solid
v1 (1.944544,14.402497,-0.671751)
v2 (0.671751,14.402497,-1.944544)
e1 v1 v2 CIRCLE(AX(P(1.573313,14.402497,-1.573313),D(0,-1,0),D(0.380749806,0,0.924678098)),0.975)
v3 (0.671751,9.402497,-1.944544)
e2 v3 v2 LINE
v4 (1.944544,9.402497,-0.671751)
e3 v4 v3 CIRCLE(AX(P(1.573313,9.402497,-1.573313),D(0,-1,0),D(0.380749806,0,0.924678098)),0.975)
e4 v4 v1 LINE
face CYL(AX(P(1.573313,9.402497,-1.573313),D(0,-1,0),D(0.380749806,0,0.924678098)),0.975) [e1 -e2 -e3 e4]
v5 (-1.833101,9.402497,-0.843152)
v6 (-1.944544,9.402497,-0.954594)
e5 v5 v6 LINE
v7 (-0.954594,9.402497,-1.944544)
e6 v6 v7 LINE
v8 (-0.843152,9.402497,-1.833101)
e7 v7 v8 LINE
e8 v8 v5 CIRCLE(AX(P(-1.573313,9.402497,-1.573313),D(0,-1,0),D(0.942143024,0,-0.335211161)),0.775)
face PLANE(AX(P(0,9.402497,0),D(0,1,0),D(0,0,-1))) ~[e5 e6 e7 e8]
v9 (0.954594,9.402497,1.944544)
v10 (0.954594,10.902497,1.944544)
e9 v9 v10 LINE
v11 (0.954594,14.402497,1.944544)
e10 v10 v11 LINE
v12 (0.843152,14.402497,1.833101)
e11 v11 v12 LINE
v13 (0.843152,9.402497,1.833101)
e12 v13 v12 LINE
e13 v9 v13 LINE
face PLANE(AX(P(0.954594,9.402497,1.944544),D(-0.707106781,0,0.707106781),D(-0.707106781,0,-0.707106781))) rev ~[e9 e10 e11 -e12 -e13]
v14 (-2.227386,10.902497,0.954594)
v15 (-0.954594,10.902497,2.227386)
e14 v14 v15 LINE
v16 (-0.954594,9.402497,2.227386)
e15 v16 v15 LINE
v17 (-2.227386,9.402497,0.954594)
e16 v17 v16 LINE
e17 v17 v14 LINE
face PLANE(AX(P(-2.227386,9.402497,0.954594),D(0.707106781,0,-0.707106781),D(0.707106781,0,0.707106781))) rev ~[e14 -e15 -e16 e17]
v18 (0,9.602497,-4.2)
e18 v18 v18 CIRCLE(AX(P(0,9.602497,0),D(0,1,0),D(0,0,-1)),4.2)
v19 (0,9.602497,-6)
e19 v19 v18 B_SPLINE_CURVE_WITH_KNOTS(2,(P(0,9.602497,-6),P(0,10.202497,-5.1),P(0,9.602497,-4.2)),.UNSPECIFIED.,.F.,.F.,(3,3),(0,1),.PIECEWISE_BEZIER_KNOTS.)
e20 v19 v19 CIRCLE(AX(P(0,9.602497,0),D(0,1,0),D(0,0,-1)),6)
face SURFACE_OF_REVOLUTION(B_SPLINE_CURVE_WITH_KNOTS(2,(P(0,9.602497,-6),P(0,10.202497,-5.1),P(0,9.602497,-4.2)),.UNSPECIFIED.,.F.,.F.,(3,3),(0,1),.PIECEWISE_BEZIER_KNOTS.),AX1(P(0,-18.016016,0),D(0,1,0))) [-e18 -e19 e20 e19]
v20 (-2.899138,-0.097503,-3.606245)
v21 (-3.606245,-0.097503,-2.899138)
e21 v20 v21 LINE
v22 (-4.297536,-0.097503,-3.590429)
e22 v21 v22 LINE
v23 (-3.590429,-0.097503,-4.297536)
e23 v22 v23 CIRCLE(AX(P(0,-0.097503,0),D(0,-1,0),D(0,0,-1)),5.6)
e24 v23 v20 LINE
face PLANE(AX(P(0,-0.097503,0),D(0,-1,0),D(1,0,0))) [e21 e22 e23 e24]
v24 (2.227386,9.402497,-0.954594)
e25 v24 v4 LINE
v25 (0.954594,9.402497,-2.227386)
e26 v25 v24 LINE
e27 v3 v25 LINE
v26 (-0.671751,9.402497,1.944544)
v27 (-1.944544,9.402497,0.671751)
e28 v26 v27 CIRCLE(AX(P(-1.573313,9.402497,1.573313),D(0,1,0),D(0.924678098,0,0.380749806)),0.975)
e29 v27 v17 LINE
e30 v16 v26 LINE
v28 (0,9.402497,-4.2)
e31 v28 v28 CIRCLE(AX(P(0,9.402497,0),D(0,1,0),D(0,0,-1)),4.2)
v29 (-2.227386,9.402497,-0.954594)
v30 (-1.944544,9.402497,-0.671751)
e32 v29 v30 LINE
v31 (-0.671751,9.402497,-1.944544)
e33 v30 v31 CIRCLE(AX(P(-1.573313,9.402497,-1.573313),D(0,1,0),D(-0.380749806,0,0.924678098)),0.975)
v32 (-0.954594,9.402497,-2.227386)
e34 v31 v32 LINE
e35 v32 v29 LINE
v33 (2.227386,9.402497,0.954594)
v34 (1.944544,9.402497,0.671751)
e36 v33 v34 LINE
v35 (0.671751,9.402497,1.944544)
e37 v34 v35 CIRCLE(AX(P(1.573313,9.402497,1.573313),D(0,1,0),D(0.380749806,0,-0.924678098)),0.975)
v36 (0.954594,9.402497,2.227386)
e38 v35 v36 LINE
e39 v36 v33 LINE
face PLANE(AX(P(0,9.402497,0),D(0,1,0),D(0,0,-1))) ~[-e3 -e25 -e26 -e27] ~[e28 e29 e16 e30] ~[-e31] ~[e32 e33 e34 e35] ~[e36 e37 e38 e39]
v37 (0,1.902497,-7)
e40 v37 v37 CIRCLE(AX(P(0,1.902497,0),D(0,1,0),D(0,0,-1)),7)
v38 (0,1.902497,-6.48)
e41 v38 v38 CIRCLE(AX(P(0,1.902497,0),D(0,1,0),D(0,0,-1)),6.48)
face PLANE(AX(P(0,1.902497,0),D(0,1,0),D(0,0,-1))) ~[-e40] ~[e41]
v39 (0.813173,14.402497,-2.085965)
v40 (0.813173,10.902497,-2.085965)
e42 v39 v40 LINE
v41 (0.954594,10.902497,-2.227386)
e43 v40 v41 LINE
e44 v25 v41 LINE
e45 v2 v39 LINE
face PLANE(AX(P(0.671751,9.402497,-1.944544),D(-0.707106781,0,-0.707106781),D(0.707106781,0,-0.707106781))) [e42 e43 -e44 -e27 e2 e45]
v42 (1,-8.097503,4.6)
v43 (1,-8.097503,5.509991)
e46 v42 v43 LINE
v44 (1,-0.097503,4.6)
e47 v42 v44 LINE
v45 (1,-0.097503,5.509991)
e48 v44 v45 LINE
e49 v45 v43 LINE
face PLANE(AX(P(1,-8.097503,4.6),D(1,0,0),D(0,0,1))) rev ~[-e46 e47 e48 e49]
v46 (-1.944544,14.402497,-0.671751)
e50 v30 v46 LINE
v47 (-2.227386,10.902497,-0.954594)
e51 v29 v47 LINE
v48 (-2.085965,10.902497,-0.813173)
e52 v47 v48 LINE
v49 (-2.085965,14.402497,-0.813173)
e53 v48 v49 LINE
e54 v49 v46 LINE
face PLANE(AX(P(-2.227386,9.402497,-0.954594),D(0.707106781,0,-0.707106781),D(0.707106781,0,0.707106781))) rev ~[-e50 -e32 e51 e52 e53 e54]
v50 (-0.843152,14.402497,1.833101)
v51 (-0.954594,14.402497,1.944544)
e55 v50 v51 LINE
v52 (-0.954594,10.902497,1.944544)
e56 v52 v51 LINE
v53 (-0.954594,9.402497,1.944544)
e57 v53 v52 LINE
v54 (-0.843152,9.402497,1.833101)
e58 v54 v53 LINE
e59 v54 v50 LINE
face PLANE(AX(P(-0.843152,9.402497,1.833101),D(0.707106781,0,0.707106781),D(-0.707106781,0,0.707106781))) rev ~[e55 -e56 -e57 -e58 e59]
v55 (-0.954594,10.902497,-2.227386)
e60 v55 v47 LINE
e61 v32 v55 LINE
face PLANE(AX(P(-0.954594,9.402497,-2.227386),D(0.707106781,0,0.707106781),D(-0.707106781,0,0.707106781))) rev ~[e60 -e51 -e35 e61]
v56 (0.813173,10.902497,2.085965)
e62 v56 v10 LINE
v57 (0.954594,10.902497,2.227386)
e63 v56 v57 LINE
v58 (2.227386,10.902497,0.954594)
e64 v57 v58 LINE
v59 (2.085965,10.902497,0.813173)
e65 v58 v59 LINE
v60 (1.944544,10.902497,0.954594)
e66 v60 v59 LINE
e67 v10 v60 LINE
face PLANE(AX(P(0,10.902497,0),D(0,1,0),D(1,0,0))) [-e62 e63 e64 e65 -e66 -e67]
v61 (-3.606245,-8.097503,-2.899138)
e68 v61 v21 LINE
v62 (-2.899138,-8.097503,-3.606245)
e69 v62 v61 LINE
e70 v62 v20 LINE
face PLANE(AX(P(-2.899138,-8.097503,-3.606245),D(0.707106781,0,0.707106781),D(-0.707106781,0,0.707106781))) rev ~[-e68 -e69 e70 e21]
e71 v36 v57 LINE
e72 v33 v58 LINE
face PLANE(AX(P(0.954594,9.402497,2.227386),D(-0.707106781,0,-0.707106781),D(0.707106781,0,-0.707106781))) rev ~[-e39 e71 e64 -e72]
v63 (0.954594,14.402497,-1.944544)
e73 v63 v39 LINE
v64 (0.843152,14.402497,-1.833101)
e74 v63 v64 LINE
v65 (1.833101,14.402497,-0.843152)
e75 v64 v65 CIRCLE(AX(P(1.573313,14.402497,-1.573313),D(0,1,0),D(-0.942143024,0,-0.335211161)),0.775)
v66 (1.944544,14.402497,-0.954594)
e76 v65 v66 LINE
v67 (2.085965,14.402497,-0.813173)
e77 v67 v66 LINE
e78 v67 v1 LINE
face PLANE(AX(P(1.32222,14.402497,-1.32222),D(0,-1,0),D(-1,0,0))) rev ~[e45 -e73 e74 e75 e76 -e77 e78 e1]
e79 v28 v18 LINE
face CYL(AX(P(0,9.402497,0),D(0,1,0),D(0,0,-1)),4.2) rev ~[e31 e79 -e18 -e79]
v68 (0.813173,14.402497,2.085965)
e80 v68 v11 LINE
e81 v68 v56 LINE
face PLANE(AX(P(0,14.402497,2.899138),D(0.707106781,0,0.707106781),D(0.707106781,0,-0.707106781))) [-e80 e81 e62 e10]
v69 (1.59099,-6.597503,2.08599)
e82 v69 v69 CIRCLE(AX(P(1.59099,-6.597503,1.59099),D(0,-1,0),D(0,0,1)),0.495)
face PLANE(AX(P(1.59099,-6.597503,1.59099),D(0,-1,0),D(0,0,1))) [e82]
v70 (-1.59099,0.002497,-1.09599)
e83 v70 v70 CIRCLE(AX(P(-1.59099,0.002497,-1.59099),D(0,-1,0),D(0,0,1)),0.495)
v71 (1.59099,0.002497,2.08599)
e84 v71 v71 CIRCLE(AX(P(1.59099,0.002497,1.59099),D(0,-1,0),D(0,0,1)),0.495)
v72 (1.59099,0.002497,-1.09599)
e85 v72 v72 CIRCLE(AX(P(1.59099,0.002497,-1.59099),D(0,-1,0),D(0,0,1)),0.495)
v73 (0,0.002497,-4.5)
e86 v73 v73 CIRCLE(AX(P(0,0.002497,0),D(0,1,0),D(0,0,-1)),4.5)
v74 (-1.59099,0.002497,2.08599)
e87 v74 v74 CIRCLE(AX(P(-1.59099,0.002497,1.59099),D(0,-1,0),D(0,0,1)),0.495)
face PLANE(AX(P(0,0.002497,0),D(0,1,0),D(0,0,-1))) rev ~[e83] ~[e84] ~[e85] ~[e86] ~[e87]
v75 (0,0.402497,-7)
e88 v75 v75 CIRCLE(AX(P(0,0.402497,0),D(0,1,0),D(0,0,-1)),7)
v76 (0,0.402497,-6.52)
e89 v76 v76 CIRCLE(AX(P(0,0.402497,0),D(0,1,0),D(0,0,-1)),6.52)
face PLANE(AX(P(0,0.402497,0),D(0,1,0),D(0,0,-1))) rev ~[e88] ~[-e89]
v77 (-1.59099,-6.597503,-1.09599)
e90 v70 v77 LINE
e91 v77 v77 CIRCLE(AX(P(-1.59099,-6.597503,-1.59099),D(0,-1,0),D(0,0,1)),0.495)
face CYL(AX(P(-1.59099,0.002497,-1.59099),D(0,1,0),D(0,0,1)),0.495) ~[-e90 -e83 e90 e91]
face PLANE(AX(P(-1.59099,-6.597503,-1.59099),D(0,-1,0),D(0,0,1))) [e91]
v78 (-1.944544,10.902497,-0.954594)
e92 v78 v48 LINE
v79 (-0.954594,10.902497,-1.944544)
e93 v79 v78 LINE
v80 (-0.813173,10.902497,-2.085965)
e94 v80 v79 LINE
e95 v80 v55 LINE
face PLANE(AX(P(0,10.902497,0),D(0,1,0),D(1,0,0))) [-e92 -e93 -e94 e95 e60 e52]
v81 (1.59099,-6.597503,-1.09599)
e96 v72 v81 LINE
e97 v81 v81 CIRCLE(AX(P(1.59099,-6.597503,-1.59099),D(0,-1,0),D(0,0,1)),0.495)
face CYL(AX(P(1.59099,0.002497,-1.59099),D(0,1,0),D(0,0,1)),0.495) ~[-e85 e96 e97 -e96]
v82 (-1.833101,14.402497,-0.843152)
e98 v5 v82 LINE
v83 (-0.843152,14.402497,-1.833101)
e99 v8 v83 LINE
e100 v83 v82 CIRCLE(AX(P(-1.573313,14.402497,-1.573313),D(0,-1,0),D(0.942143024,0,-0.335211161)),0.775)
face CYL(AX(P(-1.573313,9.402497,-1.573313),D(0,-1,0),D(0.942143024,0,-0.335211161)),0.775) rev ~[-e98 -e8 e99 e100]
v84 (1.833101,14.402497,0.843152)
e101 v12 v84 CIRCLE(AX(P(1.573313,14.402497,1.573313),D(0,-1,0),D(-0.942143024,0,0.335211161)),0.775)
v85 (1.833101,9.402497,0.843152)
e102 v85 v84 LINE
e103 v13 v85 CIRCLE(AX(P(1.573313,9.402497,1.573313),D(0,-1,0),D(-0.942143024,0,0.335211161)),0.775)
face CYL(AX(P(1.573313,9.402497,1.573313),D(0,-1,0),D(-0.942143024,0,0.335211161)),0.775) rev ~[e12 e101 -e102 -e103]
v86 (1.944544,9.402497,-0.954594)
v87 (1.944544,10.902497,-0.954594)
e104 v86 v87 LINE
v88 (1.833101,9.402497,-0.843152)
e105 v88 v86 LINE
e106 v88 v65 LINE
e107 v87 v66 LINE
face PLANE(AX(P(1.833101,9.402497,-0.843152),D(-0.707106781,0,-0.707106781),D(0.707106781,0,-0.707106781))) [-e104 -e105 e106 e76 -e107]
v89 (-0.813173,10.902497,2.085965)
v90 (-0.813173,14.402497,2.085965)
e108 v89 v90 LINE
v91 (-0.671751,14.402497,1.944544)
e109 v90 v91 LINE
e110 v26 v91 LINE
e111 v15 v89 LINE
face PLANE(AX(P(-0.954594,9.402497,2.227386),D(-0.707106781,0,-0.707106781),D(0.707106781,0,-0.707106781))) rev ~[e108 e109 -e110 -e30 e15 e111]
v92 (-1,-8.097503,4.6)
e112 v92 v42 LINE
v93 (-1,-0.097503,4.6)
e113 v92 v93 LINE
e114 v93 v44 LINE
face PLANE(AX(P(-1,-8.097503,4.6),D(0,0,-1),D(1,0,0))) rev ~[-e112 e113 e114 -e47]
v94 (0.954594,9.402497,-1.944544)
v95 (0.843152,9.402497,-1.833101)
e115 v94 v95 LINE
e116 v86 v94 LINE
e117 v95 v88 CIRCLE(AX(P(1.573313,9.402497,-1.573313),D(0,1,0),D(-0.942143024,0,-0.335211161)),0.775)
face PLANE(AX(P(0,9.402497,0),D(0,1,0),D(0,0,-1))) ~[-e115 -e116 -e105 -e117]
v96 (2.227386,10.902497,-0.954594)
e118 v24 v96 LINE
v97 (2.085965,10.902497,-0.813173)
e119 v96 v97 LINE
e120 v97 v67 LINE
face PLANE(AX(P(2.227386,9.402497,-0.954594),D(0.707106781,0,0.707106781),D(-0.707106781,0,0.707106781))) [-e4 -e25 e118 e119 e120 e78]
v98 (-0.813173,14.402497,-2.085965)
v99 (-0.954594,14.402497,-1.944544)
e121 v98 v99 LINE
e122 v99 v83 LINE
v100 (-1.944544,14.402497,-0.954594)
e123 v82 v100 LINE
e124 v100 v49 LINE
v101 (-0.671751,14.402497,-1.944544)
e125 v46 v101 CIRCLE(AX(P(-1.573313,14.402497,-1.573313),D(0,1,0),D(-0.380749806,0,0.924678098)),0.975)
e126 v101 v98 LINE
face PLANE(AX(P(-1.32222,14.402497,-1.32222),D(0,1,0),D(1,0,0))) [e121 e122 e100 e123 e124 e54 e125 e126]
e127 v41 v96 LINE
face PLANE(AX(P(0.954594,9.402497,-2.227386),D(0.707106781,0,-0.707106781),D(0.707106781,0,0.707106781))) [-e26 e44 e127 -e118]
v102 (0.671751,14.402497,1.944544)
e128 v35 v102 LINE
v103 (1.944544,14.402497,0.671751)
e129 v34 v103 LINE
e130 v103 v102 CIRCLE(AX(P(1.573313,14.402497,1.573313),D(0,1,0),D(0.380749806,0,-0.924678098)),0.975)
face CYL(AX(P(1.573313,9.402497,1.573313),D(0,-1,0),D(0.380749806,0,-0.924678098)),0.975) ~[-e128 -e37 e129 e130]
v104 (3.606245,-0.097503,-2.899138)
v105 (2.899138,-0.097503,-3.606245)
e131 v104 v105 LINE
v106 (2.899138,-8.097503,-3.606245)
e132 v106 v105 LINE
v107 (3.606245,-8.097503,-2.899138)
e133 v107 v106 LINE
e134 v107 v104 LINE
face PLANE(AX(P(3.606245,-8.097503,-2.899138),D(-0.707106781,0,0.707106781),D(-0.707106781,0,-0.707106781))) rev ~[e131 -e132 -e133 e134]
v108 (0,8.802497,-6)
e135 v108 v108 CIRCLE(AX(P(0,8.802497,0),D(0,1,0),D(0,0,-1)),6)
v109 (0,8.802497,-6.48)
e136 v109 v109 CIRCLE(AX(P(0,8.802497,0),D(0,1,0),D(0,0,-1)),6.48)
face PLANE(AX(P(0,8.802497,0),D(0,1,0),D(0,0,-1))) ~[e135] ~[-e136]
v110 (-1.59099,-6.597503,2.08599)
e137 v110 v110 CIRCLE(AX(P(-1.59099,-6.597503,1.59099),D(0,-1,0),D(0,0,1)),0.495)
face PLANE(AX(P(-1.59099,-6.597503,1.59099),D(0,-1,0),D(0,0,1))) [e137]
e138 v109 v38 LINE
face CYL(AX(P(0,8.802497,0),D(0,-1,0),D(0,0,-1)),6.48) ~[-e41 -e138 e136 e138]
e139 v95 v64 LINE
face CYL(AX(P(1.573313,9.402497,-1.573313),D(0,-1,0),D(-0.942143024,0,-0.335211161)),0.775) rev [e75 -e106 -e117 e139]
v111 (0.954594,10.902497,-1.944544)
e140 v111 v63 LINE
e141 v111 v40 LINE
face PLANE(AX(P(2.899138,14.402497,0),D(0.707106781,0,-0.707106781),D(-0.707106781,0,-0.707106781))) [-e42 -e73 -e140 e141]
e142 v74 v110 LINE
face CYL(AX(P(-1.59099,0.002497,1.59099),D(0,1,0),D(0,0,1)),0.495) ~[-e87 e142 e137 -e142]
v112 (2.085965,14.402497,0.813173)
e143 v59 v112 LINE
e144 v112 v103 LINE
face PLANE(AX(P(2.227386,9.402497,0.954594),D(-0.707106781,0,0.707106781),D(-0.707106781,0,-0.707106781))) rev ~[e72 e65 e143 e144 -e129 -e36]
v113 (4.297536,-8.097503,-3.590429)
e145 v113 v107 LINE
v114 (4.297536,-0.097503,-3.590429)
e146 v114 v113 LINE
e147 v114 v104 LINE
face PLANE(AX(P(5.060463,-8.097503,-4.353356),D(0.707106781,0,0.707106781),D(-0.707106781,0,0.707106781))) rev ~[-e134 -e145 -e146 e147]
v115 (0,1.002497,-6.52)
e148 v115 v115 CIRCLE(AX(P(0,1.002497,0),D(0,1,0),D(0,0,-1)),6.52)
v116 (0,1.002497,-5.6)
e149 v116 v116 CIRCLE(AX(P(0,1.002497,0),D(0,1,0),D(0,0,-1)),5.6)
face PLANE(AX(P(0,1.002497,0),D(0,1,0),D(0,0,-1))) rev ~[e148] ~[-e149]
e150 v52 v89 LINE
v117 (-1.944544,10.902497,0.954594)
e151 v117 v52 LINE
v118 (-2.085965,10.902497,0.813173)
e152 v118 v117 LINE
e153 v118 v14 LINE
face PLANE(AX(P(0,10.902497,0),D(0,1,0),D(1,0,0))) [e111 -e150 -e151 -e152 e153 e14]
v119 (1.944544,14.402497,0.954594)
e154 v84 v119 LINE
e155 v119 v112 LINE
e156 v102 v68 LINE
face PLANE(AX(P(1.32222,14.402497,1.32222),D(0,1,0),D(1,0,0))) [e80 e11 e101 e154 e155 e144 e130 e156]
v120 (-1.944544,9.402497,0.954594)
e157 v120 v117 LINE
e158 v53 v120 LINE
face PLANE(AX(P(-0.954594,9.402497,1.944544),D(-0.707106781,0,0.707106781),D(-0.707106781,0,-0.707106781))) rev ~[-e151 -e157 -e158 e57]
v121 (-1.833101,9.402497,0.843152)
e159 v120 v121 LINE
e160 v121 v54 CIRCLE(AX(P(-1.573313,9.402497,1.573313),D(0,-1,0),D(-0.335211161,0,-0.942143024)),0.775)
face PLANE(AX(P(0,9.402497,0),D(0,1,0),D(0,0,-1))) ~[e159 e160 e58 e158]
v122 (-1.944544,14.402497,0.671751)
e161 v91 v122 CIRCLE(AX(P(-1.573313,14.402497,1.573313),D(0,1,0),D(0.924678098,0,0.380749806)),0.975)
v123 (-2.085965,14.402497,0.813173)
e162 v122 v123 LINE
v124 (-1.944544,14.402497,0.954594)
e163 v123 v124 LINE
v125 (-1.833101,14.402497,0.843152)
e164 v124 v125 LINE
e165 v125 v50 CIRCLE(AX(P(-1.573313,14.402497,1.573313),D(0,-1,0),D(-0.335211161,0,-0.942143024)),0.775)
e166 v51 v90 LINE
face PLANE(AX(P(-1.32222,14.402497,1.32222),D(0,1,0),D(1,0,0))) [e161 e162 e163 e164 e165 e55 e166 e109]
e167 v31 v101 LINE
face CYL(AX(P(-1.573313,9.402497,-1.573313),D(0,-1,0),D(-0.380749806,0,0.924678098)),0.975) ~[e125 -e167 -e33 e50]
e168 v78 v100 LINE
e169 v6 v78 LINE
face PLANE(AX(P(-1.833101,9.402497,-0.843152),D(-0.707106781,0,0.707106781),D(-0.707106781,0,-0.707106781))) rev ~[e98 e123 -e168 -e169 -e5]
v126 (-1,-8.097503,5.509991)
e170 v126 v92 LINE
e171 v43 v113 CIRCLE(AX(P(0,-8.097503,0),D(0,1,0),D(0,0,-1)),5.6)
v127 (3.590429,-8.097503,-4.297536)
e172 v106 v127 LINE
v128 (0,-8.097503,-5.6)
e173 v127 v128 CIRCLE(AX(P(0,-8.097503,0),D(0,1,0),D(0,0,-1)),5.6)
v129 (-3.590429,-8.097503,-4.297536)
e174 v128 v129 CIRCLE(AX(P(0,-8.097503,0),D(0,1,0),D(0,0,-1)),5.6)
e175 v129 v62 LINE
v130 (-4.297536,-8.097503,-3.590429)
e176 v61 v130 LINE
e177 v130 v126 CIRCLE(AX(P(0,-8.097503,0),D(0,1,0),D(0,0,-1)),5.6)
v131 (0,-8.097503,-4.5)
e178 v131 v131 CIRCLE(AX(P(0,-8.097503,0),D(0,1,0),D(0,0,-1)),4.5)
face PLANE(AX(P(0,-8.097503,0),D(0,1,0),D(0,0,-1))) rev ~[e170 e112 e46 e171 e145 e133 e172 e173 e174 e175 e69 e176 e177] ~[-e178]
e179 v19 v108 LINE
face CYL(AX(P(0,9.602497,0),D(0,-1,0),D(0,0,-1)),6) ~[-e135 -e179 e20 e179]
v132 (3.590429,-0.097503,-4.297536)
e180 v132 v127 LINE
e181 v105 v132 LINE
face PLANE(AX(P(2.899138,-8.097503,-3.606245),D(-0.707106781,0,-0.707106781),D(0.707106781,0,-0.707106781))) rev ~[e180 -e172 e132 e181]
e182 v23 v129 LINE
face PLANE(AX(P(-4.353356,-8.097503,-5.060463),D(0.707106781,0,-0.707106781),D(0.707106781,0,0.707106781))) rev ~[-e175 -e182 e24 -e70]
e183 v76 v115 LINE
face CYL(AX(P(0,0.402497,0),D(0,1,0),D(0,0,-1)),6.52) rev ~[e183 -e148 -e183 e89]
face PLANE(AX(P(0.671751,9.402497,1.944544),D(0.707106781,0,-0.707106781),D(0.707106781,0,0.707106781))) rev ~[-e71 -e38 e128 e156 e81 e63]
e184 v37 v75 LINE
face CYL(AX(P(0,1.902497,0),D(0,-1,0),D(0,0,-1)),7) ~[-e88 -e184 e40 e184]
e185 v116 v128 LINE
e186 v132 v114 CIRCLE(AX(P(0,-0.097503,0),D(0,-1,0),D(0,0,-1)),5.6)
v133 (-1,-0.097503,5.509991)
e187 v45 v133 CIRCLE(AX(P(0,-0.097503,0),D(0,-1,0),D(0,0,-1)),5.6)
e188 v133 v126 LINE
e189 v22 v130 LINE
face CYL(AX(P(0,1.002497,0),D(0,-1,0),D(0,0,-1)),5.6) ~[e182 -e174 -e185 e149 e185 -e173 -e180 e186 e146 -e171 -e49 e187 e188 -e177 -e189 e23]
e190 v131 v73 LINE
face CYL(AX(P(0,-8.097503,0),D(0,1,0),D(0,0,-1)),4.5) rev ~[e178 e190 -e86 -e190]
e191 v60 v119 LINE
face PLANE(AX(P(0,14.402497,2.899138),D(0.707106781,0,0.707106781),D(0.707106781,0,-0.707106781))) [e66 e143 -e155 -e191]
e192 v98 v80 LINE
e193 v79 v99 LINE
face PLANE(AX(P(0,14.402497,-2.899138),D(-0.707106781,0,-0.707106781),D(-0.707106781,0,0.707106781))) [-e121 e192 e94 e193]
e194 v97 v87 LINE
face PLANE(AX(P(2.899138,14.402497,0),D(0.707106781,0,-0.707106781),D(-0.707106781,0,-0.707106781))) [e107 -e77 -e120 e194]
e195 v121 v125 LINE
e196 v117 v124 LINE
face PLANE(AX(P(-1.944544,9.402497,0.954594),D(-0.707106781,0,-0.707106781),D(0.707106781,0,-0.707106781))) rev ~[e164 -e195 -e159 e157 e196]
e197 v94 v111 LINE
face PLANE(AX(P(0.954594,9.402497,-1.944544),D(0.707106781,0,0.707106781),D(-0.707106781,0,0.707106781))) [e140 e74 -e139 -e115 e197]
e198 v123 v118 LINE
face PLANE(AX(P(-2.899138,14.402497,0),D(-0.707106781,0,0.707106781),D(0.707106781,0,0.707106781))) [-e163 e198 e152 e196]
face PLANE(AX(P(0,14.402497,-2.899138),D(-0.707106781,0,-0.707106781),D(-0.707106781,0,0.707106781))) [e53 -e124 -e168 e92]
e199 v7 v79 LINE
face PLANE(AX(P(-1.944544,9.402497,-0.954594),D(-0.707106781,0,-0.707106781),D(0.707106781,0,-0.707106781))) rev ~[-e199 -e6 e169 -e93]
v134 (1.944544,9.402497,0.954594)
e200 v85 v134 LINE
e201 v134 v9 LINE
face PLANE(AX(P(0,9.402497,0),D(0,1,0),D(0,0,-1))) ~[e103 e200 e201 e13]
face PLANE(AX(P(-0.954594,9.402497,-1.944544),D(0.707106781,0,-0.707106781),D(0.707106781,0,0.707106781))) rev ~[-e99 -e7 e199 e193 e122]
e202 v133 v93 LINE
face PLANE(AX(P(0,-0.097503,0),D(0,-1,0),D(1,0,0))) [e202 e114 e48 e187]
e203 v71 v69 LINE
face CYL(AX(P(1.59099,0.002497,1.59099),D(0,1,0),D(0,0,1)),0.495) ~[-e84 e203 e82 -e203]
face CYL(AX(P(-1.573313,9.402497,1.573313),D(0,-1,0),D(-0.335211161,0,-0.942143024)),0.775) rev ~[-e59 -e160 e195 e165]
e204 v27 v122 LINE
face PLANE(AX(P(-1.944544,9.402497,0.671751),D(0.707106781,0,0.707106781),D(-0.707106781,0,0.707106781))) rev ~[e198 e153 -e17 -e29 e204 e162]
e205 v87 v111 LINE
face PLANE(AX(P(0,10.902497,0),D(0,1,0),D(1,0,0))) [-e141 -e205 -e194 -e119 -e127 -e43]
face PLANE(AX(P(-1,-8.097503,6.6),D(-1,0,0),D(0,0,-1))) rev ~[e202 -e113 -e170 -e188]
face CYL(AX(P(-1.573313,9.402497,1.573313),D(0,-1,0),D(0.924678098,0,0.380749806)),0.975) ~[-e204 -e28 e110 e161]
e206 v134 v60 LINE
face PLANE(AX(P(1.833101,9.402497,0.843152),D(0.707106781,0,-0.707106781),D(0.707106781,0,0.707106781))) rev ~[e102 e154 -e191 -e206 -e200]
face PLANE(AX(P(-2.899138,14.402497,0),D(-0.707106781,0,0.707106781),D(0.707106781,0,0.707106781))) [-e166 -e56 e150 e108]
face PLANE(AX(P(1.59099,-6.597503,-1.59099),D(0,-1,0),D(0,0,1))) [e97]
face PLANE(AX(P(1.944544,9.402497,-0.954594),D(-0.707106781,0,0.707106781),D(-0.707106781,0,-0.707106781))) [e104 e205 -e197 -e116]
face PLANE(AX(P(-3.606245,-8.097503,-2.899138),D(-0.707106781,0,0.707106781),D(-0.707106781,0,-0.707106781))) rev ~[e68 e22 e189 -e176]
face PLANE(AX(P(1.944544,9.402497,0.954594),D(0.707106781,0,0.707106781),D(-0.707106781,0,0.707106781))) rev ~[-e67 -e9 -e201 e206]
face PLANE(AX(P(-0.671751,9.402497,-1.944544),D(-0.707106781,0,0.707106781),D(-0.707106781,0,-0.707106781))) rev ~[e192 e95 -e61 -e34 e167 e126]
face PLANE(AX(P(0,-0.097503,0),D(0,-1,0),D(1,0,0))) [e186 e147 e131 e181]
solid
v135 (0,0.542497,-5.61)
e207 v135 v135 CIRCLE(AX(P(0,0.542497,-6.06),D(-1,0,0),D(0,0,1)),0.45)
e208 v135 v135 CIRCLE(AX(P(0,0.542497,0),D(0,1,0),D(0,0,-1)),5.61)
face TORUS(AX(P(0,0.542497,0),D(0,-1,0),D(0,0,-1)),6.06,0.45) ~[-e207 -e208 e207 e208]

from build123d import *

# Parameters (mm, degrees)
SKETCH_2_R          = 0.45
EXTRUDE_1_DEPTH     = 5
SKETCH_4_R          = 3.666187069
CUT_EXTRUDE_1_DEPTH = 3.5
SKETCH_5_R          = 0.495
EXTRUDE_2_DEPTH     = 6.6
SKETCH_6_R          = 9.064865096
CUT_EXTRUDE_2_DEPTH = 8


with BuildPart() as part:
    # Эскиз2 → Повернуть1 (revolve)
    with BuildSketch(Plane.XY, mode=Mode.PRIVATE) as revolve_1_sk:
        with Locations((-6.06, 0.542496697)):
            Circle(SKETCH_2_R)
        with BuildLine():
            Line((0, 9.402496697), (-4.2, 9.402496697))
            Line((-4.2, 9.402496697), (-4.2, 9.602496697))
            add(Edge.make_bspline(
                [(-6, 9.602496697), (-5.1, 10.202496697), (-4.2, 9.602496697)],
                knots=[0, 0, 0, 1, 1, 1], degree=2))
            Line((-6, 9.602496697), (-6, 8.802496697))
            Line((-6, 8.802496697), (-6.48, 8.802496697))
            Line((-6.48, 8.802496697), (-6.48, 1.902496697))
            Line((-6.48, 1.902496697), (-7, 1.902496697))
            Line((-7, 1.902496697), (-7, 0.402496697))
            Line((-7, 0.402496697), (-6.52, 0.402496697))
            Line((-6.52, 0.402496697), (-6.52, 1.002496697))
            Line((-6.52, 1.002496697), (-5.6, 1.002496697))
            Line((-5.6, 1.002496697), (-5.6, -8.097503303))
            Line((-5.6, -8.097503303), (-4.5, -8.097503303))
            Line((-4.5, -8.097503303), (-4.5, 0.002496697))
            Line((-4.5, 0.002496697), (0, 0.002496697))
            Line((0, 0.002496697), (0, 9.402496697))
        make_face()
    revolve(revolve_1_sk.sketch.rotate(Axis((0, -18.016016449, 0), (0, 1, 0)), 270), axis=Axis((0, -18.016016449, 0), (0, 1, 0)))

    # Эскиз3 → Бобышка-Вытянуть1 (add)
    # profile 1 of 4: a face of its own
    with BuildSketch(Plane(origin=(0, 9.402496697, 0), x_dir=(1, 0, 0), z_dir=(0, 1, 0))):
        with BuildLine():
            Line((0.954594155, 2.227386361), (2.227386361, 0.954594155))
            Line((2.227386361, 0.954594155), (1.944543648, 0.671751442))
            ThreePointArc((1.944543648, 0.671751442), (0.883883476, 0.883883476), (0.671751442, 1.944543648))
            Line((0.671751442, 1.944543648), (0.954594155, 2.227386361))
        make_face()
        with BuildLine():
            Line((0.954594155, 1.944543648), (0.843151745, 1.833101238))
            ThreePointArc((0.843151745, 1.833101238), (1.025304833, 1.025304833), (1.833101238, 0.843151745))
            Line((1.833101238, 0.843151745), (1.944543648, 0.954594155))
            Line((1.944543648, 0.954594155), (0.954594155, 1.944543648))
        make_face(mode=Mode.SUBTRACT)
    # profile 2 of 4: a face of its own
    with BuildSketch(Plane(origin=(0, 9.402496697, 0), x_dir=(1, 0, 0), z_dir=(0, 1, 0))):
        with BuildLine():
            Line((2.227386361, -0.954594155), (1.944543648, -0.671751442))
            ThreePointArc((1.944543648, -0.671751442), (0.883883476, -0.883883476), (0.671751442, -1.944543648))
            Line((0.671751442, -1.944543648), (0.954594155, -2.227386361))
            Line((0.954594155, -2.227386361), (2.227386361, -0.954594155))
        make_face()
        with BuildLine():
            Line((1.944543648, -0.954594155), (0.954594155, -1.944543648))
            Line((0.954594155, -1.944543648), (0.843151745, -1.833101238))
            ThreePointArc((0.843151745, -1.833101238), (1.025304833, -1.025304833), (1.833101238, -0.843151745))
            Line((1.833101238, -0.843151745), (1.944543648, -0.954594155))
        make_face(mode=Mode.SUBTRACT)
    # profile 3 of 4: a face of its own
    with BuildSketch(Plane(origin=(0, 9.402496697, 0), x_dir=(1, 0, 0), z_dir=(0, 1, 0))):
        with BuildLine():
            Line((-0.954594155, -2.227386361), (-0.671751442, -1.944543648))
            ThreePointArc((-0.671751442, -1.944543648), (-0.883883476, -0.883883476), (-1.944543648, -0.671751442))
            Line((-1.944543648, -0.671751442), (-2.227386361, -0.954594155))
            Line((-2.227386361, -0.954594155), (-0.954594155, -2.227386361))
        make_face()
        with BuildLine():
            Line((-0.954594155, -1.944543648), (-1.944543648, -0.954594155))
            Line((-1.944543648, -0.954594155), (-1.833101238, -0.843151745))
            ThreePointArc((-1.833101238, -0.843151745), (-1.025304833, -1.025304833), (-0.843151745, -1.833101238))
            Line((-0.843151745, -1.833101238), (-0.954594155, -1.944543648))
        make_face(mode=Mode.SUBTRACT)
    # profile 4 of 4: a face of its own
    with BuildSketch(Plane(origin=(0, 9.402496697, 0), x_dir=(1, 0, 0), z_dir=(0, 1, 0))):
        with BuildLine():
            Line((-2.227386361, 0.954594155), (-1.944543648, 0.671751442))
            ThreePointArc((-1.944543648, 0.671751442), (-0.883883476, 0.883883476), (-0.671751442, 1.944543648))
            Line((-0.671751442, 1.944543648), (-0.954594155, 2.227386361))
            Line((-0.954594155, 2.227386361), (-2.227386361, 0.954594155))
        make_face()
        with BuildLine():
            Line((-1.944543648, 0.954594155), (-0.954594155, 1.944543648))
            Line((-0.954594155, 1.944543648), (-0.843151745, 1.833101238))
            ThreePointArc((-0.843151745, 1.833101238), (-1.025304833, 1.025304833), (-1.833101238, 0.843151745))
            Line((-1.833101238, 0.843151745), (-1.944543648, 0.954594155))
        make_face(mode=Mode.SUBTRACT)
    extrude(amount=EXTRUDE_1_DEPTH)

    # Эскиз4 → Вырез-Вытянуть1 (cut)
    with BuildSketch(Plane(origin=(0, 14.402496697, 0), x_dir=(1, 0, 0), z_dir=(0, 1, 0))):
        Circle(SKETCH_4_R)
        Polygon((0, -2.899137803), (2.899137803, 0), (0, 2.899137803), (-2.899137803, 0), align=None, mode=Mode.SUBTRACT)
    extrude(amount=-CUT_EXTRUDE_1_DEPTH, mode=Mode.SUBTRACT)

    # Эскиз5 → Бобышка-Вытянуть2 (add)
    with BuildSketch(Plane.XZ.offset(-0.002496697)):
        with Locations(Location((1.590990258, 1.590990258, 0), (0, 0, 90))):
            Circle(SKETCH_5_R)
        with Locations(Location((1.590990258, -1.590990258, 0), (0, 0, 90))):
            Circle(SKETCH_5_R)
        with Locations(Location((-1.590990258, -1.590990258, 0), (0, 0, 90))):
            Circle(SKETCH_5_R)
        with Locations(Location((-1.590990258, 1.590990258, 0), (0, 0, 90))):
            Circle(SKETCH_5_R)
    extrude(amount=EXTRUDE_2_DEPTH)

    # Эскиз6 → Вырез-Вытянуть2 (cut)
    with BuildSketch(Plane.XZ.offset(8.097503303)):
        Circle(SKETCH_6_R)
        with BuildLine():
            Line((-1, 4.6), (1, 4.6))
            Line((1, 4.6), (1, 6.6))
            ThreePointArc((1, 6.6), (6.259098002, 2.320278475), (5.060463205, -4.353356424))
            Line((5.060463205, -4.353356424), (3.606244584, -2.899137803))
            Line((3.606244584, -2.899137803), (2.899137803, -3.606244584))
            Line((2.899137803, -3.606244584), (4.353356424, -5.060463205))
            ThreePointArc((4.353356424, -5.060463205), (0, -6.675327707), (-4.353356424, -5.060463205))
            Line((-4.353356424, -5.060463205), (-2.899137803, -3.606244584))
            Line((-2.899137803, -3.606244584), (-3.606244584, -2.899137803))
            Line((-3.606244584, -2.899137803), (-5.060463205, -4.353356424))
            ThreePointArc((-5.060463205, -4.353356424), (-6.259098002, 2.320278475), (-1, 6.6))
            Line((-1, 6.6), (-1, 4.6))
        make_face(mode=Mode.SUBTRACT)
    extrude(amount=-CUT_EXTRUDE_2_DEPTH, mode=Mode.SUBTRACT)


solid = part.part
